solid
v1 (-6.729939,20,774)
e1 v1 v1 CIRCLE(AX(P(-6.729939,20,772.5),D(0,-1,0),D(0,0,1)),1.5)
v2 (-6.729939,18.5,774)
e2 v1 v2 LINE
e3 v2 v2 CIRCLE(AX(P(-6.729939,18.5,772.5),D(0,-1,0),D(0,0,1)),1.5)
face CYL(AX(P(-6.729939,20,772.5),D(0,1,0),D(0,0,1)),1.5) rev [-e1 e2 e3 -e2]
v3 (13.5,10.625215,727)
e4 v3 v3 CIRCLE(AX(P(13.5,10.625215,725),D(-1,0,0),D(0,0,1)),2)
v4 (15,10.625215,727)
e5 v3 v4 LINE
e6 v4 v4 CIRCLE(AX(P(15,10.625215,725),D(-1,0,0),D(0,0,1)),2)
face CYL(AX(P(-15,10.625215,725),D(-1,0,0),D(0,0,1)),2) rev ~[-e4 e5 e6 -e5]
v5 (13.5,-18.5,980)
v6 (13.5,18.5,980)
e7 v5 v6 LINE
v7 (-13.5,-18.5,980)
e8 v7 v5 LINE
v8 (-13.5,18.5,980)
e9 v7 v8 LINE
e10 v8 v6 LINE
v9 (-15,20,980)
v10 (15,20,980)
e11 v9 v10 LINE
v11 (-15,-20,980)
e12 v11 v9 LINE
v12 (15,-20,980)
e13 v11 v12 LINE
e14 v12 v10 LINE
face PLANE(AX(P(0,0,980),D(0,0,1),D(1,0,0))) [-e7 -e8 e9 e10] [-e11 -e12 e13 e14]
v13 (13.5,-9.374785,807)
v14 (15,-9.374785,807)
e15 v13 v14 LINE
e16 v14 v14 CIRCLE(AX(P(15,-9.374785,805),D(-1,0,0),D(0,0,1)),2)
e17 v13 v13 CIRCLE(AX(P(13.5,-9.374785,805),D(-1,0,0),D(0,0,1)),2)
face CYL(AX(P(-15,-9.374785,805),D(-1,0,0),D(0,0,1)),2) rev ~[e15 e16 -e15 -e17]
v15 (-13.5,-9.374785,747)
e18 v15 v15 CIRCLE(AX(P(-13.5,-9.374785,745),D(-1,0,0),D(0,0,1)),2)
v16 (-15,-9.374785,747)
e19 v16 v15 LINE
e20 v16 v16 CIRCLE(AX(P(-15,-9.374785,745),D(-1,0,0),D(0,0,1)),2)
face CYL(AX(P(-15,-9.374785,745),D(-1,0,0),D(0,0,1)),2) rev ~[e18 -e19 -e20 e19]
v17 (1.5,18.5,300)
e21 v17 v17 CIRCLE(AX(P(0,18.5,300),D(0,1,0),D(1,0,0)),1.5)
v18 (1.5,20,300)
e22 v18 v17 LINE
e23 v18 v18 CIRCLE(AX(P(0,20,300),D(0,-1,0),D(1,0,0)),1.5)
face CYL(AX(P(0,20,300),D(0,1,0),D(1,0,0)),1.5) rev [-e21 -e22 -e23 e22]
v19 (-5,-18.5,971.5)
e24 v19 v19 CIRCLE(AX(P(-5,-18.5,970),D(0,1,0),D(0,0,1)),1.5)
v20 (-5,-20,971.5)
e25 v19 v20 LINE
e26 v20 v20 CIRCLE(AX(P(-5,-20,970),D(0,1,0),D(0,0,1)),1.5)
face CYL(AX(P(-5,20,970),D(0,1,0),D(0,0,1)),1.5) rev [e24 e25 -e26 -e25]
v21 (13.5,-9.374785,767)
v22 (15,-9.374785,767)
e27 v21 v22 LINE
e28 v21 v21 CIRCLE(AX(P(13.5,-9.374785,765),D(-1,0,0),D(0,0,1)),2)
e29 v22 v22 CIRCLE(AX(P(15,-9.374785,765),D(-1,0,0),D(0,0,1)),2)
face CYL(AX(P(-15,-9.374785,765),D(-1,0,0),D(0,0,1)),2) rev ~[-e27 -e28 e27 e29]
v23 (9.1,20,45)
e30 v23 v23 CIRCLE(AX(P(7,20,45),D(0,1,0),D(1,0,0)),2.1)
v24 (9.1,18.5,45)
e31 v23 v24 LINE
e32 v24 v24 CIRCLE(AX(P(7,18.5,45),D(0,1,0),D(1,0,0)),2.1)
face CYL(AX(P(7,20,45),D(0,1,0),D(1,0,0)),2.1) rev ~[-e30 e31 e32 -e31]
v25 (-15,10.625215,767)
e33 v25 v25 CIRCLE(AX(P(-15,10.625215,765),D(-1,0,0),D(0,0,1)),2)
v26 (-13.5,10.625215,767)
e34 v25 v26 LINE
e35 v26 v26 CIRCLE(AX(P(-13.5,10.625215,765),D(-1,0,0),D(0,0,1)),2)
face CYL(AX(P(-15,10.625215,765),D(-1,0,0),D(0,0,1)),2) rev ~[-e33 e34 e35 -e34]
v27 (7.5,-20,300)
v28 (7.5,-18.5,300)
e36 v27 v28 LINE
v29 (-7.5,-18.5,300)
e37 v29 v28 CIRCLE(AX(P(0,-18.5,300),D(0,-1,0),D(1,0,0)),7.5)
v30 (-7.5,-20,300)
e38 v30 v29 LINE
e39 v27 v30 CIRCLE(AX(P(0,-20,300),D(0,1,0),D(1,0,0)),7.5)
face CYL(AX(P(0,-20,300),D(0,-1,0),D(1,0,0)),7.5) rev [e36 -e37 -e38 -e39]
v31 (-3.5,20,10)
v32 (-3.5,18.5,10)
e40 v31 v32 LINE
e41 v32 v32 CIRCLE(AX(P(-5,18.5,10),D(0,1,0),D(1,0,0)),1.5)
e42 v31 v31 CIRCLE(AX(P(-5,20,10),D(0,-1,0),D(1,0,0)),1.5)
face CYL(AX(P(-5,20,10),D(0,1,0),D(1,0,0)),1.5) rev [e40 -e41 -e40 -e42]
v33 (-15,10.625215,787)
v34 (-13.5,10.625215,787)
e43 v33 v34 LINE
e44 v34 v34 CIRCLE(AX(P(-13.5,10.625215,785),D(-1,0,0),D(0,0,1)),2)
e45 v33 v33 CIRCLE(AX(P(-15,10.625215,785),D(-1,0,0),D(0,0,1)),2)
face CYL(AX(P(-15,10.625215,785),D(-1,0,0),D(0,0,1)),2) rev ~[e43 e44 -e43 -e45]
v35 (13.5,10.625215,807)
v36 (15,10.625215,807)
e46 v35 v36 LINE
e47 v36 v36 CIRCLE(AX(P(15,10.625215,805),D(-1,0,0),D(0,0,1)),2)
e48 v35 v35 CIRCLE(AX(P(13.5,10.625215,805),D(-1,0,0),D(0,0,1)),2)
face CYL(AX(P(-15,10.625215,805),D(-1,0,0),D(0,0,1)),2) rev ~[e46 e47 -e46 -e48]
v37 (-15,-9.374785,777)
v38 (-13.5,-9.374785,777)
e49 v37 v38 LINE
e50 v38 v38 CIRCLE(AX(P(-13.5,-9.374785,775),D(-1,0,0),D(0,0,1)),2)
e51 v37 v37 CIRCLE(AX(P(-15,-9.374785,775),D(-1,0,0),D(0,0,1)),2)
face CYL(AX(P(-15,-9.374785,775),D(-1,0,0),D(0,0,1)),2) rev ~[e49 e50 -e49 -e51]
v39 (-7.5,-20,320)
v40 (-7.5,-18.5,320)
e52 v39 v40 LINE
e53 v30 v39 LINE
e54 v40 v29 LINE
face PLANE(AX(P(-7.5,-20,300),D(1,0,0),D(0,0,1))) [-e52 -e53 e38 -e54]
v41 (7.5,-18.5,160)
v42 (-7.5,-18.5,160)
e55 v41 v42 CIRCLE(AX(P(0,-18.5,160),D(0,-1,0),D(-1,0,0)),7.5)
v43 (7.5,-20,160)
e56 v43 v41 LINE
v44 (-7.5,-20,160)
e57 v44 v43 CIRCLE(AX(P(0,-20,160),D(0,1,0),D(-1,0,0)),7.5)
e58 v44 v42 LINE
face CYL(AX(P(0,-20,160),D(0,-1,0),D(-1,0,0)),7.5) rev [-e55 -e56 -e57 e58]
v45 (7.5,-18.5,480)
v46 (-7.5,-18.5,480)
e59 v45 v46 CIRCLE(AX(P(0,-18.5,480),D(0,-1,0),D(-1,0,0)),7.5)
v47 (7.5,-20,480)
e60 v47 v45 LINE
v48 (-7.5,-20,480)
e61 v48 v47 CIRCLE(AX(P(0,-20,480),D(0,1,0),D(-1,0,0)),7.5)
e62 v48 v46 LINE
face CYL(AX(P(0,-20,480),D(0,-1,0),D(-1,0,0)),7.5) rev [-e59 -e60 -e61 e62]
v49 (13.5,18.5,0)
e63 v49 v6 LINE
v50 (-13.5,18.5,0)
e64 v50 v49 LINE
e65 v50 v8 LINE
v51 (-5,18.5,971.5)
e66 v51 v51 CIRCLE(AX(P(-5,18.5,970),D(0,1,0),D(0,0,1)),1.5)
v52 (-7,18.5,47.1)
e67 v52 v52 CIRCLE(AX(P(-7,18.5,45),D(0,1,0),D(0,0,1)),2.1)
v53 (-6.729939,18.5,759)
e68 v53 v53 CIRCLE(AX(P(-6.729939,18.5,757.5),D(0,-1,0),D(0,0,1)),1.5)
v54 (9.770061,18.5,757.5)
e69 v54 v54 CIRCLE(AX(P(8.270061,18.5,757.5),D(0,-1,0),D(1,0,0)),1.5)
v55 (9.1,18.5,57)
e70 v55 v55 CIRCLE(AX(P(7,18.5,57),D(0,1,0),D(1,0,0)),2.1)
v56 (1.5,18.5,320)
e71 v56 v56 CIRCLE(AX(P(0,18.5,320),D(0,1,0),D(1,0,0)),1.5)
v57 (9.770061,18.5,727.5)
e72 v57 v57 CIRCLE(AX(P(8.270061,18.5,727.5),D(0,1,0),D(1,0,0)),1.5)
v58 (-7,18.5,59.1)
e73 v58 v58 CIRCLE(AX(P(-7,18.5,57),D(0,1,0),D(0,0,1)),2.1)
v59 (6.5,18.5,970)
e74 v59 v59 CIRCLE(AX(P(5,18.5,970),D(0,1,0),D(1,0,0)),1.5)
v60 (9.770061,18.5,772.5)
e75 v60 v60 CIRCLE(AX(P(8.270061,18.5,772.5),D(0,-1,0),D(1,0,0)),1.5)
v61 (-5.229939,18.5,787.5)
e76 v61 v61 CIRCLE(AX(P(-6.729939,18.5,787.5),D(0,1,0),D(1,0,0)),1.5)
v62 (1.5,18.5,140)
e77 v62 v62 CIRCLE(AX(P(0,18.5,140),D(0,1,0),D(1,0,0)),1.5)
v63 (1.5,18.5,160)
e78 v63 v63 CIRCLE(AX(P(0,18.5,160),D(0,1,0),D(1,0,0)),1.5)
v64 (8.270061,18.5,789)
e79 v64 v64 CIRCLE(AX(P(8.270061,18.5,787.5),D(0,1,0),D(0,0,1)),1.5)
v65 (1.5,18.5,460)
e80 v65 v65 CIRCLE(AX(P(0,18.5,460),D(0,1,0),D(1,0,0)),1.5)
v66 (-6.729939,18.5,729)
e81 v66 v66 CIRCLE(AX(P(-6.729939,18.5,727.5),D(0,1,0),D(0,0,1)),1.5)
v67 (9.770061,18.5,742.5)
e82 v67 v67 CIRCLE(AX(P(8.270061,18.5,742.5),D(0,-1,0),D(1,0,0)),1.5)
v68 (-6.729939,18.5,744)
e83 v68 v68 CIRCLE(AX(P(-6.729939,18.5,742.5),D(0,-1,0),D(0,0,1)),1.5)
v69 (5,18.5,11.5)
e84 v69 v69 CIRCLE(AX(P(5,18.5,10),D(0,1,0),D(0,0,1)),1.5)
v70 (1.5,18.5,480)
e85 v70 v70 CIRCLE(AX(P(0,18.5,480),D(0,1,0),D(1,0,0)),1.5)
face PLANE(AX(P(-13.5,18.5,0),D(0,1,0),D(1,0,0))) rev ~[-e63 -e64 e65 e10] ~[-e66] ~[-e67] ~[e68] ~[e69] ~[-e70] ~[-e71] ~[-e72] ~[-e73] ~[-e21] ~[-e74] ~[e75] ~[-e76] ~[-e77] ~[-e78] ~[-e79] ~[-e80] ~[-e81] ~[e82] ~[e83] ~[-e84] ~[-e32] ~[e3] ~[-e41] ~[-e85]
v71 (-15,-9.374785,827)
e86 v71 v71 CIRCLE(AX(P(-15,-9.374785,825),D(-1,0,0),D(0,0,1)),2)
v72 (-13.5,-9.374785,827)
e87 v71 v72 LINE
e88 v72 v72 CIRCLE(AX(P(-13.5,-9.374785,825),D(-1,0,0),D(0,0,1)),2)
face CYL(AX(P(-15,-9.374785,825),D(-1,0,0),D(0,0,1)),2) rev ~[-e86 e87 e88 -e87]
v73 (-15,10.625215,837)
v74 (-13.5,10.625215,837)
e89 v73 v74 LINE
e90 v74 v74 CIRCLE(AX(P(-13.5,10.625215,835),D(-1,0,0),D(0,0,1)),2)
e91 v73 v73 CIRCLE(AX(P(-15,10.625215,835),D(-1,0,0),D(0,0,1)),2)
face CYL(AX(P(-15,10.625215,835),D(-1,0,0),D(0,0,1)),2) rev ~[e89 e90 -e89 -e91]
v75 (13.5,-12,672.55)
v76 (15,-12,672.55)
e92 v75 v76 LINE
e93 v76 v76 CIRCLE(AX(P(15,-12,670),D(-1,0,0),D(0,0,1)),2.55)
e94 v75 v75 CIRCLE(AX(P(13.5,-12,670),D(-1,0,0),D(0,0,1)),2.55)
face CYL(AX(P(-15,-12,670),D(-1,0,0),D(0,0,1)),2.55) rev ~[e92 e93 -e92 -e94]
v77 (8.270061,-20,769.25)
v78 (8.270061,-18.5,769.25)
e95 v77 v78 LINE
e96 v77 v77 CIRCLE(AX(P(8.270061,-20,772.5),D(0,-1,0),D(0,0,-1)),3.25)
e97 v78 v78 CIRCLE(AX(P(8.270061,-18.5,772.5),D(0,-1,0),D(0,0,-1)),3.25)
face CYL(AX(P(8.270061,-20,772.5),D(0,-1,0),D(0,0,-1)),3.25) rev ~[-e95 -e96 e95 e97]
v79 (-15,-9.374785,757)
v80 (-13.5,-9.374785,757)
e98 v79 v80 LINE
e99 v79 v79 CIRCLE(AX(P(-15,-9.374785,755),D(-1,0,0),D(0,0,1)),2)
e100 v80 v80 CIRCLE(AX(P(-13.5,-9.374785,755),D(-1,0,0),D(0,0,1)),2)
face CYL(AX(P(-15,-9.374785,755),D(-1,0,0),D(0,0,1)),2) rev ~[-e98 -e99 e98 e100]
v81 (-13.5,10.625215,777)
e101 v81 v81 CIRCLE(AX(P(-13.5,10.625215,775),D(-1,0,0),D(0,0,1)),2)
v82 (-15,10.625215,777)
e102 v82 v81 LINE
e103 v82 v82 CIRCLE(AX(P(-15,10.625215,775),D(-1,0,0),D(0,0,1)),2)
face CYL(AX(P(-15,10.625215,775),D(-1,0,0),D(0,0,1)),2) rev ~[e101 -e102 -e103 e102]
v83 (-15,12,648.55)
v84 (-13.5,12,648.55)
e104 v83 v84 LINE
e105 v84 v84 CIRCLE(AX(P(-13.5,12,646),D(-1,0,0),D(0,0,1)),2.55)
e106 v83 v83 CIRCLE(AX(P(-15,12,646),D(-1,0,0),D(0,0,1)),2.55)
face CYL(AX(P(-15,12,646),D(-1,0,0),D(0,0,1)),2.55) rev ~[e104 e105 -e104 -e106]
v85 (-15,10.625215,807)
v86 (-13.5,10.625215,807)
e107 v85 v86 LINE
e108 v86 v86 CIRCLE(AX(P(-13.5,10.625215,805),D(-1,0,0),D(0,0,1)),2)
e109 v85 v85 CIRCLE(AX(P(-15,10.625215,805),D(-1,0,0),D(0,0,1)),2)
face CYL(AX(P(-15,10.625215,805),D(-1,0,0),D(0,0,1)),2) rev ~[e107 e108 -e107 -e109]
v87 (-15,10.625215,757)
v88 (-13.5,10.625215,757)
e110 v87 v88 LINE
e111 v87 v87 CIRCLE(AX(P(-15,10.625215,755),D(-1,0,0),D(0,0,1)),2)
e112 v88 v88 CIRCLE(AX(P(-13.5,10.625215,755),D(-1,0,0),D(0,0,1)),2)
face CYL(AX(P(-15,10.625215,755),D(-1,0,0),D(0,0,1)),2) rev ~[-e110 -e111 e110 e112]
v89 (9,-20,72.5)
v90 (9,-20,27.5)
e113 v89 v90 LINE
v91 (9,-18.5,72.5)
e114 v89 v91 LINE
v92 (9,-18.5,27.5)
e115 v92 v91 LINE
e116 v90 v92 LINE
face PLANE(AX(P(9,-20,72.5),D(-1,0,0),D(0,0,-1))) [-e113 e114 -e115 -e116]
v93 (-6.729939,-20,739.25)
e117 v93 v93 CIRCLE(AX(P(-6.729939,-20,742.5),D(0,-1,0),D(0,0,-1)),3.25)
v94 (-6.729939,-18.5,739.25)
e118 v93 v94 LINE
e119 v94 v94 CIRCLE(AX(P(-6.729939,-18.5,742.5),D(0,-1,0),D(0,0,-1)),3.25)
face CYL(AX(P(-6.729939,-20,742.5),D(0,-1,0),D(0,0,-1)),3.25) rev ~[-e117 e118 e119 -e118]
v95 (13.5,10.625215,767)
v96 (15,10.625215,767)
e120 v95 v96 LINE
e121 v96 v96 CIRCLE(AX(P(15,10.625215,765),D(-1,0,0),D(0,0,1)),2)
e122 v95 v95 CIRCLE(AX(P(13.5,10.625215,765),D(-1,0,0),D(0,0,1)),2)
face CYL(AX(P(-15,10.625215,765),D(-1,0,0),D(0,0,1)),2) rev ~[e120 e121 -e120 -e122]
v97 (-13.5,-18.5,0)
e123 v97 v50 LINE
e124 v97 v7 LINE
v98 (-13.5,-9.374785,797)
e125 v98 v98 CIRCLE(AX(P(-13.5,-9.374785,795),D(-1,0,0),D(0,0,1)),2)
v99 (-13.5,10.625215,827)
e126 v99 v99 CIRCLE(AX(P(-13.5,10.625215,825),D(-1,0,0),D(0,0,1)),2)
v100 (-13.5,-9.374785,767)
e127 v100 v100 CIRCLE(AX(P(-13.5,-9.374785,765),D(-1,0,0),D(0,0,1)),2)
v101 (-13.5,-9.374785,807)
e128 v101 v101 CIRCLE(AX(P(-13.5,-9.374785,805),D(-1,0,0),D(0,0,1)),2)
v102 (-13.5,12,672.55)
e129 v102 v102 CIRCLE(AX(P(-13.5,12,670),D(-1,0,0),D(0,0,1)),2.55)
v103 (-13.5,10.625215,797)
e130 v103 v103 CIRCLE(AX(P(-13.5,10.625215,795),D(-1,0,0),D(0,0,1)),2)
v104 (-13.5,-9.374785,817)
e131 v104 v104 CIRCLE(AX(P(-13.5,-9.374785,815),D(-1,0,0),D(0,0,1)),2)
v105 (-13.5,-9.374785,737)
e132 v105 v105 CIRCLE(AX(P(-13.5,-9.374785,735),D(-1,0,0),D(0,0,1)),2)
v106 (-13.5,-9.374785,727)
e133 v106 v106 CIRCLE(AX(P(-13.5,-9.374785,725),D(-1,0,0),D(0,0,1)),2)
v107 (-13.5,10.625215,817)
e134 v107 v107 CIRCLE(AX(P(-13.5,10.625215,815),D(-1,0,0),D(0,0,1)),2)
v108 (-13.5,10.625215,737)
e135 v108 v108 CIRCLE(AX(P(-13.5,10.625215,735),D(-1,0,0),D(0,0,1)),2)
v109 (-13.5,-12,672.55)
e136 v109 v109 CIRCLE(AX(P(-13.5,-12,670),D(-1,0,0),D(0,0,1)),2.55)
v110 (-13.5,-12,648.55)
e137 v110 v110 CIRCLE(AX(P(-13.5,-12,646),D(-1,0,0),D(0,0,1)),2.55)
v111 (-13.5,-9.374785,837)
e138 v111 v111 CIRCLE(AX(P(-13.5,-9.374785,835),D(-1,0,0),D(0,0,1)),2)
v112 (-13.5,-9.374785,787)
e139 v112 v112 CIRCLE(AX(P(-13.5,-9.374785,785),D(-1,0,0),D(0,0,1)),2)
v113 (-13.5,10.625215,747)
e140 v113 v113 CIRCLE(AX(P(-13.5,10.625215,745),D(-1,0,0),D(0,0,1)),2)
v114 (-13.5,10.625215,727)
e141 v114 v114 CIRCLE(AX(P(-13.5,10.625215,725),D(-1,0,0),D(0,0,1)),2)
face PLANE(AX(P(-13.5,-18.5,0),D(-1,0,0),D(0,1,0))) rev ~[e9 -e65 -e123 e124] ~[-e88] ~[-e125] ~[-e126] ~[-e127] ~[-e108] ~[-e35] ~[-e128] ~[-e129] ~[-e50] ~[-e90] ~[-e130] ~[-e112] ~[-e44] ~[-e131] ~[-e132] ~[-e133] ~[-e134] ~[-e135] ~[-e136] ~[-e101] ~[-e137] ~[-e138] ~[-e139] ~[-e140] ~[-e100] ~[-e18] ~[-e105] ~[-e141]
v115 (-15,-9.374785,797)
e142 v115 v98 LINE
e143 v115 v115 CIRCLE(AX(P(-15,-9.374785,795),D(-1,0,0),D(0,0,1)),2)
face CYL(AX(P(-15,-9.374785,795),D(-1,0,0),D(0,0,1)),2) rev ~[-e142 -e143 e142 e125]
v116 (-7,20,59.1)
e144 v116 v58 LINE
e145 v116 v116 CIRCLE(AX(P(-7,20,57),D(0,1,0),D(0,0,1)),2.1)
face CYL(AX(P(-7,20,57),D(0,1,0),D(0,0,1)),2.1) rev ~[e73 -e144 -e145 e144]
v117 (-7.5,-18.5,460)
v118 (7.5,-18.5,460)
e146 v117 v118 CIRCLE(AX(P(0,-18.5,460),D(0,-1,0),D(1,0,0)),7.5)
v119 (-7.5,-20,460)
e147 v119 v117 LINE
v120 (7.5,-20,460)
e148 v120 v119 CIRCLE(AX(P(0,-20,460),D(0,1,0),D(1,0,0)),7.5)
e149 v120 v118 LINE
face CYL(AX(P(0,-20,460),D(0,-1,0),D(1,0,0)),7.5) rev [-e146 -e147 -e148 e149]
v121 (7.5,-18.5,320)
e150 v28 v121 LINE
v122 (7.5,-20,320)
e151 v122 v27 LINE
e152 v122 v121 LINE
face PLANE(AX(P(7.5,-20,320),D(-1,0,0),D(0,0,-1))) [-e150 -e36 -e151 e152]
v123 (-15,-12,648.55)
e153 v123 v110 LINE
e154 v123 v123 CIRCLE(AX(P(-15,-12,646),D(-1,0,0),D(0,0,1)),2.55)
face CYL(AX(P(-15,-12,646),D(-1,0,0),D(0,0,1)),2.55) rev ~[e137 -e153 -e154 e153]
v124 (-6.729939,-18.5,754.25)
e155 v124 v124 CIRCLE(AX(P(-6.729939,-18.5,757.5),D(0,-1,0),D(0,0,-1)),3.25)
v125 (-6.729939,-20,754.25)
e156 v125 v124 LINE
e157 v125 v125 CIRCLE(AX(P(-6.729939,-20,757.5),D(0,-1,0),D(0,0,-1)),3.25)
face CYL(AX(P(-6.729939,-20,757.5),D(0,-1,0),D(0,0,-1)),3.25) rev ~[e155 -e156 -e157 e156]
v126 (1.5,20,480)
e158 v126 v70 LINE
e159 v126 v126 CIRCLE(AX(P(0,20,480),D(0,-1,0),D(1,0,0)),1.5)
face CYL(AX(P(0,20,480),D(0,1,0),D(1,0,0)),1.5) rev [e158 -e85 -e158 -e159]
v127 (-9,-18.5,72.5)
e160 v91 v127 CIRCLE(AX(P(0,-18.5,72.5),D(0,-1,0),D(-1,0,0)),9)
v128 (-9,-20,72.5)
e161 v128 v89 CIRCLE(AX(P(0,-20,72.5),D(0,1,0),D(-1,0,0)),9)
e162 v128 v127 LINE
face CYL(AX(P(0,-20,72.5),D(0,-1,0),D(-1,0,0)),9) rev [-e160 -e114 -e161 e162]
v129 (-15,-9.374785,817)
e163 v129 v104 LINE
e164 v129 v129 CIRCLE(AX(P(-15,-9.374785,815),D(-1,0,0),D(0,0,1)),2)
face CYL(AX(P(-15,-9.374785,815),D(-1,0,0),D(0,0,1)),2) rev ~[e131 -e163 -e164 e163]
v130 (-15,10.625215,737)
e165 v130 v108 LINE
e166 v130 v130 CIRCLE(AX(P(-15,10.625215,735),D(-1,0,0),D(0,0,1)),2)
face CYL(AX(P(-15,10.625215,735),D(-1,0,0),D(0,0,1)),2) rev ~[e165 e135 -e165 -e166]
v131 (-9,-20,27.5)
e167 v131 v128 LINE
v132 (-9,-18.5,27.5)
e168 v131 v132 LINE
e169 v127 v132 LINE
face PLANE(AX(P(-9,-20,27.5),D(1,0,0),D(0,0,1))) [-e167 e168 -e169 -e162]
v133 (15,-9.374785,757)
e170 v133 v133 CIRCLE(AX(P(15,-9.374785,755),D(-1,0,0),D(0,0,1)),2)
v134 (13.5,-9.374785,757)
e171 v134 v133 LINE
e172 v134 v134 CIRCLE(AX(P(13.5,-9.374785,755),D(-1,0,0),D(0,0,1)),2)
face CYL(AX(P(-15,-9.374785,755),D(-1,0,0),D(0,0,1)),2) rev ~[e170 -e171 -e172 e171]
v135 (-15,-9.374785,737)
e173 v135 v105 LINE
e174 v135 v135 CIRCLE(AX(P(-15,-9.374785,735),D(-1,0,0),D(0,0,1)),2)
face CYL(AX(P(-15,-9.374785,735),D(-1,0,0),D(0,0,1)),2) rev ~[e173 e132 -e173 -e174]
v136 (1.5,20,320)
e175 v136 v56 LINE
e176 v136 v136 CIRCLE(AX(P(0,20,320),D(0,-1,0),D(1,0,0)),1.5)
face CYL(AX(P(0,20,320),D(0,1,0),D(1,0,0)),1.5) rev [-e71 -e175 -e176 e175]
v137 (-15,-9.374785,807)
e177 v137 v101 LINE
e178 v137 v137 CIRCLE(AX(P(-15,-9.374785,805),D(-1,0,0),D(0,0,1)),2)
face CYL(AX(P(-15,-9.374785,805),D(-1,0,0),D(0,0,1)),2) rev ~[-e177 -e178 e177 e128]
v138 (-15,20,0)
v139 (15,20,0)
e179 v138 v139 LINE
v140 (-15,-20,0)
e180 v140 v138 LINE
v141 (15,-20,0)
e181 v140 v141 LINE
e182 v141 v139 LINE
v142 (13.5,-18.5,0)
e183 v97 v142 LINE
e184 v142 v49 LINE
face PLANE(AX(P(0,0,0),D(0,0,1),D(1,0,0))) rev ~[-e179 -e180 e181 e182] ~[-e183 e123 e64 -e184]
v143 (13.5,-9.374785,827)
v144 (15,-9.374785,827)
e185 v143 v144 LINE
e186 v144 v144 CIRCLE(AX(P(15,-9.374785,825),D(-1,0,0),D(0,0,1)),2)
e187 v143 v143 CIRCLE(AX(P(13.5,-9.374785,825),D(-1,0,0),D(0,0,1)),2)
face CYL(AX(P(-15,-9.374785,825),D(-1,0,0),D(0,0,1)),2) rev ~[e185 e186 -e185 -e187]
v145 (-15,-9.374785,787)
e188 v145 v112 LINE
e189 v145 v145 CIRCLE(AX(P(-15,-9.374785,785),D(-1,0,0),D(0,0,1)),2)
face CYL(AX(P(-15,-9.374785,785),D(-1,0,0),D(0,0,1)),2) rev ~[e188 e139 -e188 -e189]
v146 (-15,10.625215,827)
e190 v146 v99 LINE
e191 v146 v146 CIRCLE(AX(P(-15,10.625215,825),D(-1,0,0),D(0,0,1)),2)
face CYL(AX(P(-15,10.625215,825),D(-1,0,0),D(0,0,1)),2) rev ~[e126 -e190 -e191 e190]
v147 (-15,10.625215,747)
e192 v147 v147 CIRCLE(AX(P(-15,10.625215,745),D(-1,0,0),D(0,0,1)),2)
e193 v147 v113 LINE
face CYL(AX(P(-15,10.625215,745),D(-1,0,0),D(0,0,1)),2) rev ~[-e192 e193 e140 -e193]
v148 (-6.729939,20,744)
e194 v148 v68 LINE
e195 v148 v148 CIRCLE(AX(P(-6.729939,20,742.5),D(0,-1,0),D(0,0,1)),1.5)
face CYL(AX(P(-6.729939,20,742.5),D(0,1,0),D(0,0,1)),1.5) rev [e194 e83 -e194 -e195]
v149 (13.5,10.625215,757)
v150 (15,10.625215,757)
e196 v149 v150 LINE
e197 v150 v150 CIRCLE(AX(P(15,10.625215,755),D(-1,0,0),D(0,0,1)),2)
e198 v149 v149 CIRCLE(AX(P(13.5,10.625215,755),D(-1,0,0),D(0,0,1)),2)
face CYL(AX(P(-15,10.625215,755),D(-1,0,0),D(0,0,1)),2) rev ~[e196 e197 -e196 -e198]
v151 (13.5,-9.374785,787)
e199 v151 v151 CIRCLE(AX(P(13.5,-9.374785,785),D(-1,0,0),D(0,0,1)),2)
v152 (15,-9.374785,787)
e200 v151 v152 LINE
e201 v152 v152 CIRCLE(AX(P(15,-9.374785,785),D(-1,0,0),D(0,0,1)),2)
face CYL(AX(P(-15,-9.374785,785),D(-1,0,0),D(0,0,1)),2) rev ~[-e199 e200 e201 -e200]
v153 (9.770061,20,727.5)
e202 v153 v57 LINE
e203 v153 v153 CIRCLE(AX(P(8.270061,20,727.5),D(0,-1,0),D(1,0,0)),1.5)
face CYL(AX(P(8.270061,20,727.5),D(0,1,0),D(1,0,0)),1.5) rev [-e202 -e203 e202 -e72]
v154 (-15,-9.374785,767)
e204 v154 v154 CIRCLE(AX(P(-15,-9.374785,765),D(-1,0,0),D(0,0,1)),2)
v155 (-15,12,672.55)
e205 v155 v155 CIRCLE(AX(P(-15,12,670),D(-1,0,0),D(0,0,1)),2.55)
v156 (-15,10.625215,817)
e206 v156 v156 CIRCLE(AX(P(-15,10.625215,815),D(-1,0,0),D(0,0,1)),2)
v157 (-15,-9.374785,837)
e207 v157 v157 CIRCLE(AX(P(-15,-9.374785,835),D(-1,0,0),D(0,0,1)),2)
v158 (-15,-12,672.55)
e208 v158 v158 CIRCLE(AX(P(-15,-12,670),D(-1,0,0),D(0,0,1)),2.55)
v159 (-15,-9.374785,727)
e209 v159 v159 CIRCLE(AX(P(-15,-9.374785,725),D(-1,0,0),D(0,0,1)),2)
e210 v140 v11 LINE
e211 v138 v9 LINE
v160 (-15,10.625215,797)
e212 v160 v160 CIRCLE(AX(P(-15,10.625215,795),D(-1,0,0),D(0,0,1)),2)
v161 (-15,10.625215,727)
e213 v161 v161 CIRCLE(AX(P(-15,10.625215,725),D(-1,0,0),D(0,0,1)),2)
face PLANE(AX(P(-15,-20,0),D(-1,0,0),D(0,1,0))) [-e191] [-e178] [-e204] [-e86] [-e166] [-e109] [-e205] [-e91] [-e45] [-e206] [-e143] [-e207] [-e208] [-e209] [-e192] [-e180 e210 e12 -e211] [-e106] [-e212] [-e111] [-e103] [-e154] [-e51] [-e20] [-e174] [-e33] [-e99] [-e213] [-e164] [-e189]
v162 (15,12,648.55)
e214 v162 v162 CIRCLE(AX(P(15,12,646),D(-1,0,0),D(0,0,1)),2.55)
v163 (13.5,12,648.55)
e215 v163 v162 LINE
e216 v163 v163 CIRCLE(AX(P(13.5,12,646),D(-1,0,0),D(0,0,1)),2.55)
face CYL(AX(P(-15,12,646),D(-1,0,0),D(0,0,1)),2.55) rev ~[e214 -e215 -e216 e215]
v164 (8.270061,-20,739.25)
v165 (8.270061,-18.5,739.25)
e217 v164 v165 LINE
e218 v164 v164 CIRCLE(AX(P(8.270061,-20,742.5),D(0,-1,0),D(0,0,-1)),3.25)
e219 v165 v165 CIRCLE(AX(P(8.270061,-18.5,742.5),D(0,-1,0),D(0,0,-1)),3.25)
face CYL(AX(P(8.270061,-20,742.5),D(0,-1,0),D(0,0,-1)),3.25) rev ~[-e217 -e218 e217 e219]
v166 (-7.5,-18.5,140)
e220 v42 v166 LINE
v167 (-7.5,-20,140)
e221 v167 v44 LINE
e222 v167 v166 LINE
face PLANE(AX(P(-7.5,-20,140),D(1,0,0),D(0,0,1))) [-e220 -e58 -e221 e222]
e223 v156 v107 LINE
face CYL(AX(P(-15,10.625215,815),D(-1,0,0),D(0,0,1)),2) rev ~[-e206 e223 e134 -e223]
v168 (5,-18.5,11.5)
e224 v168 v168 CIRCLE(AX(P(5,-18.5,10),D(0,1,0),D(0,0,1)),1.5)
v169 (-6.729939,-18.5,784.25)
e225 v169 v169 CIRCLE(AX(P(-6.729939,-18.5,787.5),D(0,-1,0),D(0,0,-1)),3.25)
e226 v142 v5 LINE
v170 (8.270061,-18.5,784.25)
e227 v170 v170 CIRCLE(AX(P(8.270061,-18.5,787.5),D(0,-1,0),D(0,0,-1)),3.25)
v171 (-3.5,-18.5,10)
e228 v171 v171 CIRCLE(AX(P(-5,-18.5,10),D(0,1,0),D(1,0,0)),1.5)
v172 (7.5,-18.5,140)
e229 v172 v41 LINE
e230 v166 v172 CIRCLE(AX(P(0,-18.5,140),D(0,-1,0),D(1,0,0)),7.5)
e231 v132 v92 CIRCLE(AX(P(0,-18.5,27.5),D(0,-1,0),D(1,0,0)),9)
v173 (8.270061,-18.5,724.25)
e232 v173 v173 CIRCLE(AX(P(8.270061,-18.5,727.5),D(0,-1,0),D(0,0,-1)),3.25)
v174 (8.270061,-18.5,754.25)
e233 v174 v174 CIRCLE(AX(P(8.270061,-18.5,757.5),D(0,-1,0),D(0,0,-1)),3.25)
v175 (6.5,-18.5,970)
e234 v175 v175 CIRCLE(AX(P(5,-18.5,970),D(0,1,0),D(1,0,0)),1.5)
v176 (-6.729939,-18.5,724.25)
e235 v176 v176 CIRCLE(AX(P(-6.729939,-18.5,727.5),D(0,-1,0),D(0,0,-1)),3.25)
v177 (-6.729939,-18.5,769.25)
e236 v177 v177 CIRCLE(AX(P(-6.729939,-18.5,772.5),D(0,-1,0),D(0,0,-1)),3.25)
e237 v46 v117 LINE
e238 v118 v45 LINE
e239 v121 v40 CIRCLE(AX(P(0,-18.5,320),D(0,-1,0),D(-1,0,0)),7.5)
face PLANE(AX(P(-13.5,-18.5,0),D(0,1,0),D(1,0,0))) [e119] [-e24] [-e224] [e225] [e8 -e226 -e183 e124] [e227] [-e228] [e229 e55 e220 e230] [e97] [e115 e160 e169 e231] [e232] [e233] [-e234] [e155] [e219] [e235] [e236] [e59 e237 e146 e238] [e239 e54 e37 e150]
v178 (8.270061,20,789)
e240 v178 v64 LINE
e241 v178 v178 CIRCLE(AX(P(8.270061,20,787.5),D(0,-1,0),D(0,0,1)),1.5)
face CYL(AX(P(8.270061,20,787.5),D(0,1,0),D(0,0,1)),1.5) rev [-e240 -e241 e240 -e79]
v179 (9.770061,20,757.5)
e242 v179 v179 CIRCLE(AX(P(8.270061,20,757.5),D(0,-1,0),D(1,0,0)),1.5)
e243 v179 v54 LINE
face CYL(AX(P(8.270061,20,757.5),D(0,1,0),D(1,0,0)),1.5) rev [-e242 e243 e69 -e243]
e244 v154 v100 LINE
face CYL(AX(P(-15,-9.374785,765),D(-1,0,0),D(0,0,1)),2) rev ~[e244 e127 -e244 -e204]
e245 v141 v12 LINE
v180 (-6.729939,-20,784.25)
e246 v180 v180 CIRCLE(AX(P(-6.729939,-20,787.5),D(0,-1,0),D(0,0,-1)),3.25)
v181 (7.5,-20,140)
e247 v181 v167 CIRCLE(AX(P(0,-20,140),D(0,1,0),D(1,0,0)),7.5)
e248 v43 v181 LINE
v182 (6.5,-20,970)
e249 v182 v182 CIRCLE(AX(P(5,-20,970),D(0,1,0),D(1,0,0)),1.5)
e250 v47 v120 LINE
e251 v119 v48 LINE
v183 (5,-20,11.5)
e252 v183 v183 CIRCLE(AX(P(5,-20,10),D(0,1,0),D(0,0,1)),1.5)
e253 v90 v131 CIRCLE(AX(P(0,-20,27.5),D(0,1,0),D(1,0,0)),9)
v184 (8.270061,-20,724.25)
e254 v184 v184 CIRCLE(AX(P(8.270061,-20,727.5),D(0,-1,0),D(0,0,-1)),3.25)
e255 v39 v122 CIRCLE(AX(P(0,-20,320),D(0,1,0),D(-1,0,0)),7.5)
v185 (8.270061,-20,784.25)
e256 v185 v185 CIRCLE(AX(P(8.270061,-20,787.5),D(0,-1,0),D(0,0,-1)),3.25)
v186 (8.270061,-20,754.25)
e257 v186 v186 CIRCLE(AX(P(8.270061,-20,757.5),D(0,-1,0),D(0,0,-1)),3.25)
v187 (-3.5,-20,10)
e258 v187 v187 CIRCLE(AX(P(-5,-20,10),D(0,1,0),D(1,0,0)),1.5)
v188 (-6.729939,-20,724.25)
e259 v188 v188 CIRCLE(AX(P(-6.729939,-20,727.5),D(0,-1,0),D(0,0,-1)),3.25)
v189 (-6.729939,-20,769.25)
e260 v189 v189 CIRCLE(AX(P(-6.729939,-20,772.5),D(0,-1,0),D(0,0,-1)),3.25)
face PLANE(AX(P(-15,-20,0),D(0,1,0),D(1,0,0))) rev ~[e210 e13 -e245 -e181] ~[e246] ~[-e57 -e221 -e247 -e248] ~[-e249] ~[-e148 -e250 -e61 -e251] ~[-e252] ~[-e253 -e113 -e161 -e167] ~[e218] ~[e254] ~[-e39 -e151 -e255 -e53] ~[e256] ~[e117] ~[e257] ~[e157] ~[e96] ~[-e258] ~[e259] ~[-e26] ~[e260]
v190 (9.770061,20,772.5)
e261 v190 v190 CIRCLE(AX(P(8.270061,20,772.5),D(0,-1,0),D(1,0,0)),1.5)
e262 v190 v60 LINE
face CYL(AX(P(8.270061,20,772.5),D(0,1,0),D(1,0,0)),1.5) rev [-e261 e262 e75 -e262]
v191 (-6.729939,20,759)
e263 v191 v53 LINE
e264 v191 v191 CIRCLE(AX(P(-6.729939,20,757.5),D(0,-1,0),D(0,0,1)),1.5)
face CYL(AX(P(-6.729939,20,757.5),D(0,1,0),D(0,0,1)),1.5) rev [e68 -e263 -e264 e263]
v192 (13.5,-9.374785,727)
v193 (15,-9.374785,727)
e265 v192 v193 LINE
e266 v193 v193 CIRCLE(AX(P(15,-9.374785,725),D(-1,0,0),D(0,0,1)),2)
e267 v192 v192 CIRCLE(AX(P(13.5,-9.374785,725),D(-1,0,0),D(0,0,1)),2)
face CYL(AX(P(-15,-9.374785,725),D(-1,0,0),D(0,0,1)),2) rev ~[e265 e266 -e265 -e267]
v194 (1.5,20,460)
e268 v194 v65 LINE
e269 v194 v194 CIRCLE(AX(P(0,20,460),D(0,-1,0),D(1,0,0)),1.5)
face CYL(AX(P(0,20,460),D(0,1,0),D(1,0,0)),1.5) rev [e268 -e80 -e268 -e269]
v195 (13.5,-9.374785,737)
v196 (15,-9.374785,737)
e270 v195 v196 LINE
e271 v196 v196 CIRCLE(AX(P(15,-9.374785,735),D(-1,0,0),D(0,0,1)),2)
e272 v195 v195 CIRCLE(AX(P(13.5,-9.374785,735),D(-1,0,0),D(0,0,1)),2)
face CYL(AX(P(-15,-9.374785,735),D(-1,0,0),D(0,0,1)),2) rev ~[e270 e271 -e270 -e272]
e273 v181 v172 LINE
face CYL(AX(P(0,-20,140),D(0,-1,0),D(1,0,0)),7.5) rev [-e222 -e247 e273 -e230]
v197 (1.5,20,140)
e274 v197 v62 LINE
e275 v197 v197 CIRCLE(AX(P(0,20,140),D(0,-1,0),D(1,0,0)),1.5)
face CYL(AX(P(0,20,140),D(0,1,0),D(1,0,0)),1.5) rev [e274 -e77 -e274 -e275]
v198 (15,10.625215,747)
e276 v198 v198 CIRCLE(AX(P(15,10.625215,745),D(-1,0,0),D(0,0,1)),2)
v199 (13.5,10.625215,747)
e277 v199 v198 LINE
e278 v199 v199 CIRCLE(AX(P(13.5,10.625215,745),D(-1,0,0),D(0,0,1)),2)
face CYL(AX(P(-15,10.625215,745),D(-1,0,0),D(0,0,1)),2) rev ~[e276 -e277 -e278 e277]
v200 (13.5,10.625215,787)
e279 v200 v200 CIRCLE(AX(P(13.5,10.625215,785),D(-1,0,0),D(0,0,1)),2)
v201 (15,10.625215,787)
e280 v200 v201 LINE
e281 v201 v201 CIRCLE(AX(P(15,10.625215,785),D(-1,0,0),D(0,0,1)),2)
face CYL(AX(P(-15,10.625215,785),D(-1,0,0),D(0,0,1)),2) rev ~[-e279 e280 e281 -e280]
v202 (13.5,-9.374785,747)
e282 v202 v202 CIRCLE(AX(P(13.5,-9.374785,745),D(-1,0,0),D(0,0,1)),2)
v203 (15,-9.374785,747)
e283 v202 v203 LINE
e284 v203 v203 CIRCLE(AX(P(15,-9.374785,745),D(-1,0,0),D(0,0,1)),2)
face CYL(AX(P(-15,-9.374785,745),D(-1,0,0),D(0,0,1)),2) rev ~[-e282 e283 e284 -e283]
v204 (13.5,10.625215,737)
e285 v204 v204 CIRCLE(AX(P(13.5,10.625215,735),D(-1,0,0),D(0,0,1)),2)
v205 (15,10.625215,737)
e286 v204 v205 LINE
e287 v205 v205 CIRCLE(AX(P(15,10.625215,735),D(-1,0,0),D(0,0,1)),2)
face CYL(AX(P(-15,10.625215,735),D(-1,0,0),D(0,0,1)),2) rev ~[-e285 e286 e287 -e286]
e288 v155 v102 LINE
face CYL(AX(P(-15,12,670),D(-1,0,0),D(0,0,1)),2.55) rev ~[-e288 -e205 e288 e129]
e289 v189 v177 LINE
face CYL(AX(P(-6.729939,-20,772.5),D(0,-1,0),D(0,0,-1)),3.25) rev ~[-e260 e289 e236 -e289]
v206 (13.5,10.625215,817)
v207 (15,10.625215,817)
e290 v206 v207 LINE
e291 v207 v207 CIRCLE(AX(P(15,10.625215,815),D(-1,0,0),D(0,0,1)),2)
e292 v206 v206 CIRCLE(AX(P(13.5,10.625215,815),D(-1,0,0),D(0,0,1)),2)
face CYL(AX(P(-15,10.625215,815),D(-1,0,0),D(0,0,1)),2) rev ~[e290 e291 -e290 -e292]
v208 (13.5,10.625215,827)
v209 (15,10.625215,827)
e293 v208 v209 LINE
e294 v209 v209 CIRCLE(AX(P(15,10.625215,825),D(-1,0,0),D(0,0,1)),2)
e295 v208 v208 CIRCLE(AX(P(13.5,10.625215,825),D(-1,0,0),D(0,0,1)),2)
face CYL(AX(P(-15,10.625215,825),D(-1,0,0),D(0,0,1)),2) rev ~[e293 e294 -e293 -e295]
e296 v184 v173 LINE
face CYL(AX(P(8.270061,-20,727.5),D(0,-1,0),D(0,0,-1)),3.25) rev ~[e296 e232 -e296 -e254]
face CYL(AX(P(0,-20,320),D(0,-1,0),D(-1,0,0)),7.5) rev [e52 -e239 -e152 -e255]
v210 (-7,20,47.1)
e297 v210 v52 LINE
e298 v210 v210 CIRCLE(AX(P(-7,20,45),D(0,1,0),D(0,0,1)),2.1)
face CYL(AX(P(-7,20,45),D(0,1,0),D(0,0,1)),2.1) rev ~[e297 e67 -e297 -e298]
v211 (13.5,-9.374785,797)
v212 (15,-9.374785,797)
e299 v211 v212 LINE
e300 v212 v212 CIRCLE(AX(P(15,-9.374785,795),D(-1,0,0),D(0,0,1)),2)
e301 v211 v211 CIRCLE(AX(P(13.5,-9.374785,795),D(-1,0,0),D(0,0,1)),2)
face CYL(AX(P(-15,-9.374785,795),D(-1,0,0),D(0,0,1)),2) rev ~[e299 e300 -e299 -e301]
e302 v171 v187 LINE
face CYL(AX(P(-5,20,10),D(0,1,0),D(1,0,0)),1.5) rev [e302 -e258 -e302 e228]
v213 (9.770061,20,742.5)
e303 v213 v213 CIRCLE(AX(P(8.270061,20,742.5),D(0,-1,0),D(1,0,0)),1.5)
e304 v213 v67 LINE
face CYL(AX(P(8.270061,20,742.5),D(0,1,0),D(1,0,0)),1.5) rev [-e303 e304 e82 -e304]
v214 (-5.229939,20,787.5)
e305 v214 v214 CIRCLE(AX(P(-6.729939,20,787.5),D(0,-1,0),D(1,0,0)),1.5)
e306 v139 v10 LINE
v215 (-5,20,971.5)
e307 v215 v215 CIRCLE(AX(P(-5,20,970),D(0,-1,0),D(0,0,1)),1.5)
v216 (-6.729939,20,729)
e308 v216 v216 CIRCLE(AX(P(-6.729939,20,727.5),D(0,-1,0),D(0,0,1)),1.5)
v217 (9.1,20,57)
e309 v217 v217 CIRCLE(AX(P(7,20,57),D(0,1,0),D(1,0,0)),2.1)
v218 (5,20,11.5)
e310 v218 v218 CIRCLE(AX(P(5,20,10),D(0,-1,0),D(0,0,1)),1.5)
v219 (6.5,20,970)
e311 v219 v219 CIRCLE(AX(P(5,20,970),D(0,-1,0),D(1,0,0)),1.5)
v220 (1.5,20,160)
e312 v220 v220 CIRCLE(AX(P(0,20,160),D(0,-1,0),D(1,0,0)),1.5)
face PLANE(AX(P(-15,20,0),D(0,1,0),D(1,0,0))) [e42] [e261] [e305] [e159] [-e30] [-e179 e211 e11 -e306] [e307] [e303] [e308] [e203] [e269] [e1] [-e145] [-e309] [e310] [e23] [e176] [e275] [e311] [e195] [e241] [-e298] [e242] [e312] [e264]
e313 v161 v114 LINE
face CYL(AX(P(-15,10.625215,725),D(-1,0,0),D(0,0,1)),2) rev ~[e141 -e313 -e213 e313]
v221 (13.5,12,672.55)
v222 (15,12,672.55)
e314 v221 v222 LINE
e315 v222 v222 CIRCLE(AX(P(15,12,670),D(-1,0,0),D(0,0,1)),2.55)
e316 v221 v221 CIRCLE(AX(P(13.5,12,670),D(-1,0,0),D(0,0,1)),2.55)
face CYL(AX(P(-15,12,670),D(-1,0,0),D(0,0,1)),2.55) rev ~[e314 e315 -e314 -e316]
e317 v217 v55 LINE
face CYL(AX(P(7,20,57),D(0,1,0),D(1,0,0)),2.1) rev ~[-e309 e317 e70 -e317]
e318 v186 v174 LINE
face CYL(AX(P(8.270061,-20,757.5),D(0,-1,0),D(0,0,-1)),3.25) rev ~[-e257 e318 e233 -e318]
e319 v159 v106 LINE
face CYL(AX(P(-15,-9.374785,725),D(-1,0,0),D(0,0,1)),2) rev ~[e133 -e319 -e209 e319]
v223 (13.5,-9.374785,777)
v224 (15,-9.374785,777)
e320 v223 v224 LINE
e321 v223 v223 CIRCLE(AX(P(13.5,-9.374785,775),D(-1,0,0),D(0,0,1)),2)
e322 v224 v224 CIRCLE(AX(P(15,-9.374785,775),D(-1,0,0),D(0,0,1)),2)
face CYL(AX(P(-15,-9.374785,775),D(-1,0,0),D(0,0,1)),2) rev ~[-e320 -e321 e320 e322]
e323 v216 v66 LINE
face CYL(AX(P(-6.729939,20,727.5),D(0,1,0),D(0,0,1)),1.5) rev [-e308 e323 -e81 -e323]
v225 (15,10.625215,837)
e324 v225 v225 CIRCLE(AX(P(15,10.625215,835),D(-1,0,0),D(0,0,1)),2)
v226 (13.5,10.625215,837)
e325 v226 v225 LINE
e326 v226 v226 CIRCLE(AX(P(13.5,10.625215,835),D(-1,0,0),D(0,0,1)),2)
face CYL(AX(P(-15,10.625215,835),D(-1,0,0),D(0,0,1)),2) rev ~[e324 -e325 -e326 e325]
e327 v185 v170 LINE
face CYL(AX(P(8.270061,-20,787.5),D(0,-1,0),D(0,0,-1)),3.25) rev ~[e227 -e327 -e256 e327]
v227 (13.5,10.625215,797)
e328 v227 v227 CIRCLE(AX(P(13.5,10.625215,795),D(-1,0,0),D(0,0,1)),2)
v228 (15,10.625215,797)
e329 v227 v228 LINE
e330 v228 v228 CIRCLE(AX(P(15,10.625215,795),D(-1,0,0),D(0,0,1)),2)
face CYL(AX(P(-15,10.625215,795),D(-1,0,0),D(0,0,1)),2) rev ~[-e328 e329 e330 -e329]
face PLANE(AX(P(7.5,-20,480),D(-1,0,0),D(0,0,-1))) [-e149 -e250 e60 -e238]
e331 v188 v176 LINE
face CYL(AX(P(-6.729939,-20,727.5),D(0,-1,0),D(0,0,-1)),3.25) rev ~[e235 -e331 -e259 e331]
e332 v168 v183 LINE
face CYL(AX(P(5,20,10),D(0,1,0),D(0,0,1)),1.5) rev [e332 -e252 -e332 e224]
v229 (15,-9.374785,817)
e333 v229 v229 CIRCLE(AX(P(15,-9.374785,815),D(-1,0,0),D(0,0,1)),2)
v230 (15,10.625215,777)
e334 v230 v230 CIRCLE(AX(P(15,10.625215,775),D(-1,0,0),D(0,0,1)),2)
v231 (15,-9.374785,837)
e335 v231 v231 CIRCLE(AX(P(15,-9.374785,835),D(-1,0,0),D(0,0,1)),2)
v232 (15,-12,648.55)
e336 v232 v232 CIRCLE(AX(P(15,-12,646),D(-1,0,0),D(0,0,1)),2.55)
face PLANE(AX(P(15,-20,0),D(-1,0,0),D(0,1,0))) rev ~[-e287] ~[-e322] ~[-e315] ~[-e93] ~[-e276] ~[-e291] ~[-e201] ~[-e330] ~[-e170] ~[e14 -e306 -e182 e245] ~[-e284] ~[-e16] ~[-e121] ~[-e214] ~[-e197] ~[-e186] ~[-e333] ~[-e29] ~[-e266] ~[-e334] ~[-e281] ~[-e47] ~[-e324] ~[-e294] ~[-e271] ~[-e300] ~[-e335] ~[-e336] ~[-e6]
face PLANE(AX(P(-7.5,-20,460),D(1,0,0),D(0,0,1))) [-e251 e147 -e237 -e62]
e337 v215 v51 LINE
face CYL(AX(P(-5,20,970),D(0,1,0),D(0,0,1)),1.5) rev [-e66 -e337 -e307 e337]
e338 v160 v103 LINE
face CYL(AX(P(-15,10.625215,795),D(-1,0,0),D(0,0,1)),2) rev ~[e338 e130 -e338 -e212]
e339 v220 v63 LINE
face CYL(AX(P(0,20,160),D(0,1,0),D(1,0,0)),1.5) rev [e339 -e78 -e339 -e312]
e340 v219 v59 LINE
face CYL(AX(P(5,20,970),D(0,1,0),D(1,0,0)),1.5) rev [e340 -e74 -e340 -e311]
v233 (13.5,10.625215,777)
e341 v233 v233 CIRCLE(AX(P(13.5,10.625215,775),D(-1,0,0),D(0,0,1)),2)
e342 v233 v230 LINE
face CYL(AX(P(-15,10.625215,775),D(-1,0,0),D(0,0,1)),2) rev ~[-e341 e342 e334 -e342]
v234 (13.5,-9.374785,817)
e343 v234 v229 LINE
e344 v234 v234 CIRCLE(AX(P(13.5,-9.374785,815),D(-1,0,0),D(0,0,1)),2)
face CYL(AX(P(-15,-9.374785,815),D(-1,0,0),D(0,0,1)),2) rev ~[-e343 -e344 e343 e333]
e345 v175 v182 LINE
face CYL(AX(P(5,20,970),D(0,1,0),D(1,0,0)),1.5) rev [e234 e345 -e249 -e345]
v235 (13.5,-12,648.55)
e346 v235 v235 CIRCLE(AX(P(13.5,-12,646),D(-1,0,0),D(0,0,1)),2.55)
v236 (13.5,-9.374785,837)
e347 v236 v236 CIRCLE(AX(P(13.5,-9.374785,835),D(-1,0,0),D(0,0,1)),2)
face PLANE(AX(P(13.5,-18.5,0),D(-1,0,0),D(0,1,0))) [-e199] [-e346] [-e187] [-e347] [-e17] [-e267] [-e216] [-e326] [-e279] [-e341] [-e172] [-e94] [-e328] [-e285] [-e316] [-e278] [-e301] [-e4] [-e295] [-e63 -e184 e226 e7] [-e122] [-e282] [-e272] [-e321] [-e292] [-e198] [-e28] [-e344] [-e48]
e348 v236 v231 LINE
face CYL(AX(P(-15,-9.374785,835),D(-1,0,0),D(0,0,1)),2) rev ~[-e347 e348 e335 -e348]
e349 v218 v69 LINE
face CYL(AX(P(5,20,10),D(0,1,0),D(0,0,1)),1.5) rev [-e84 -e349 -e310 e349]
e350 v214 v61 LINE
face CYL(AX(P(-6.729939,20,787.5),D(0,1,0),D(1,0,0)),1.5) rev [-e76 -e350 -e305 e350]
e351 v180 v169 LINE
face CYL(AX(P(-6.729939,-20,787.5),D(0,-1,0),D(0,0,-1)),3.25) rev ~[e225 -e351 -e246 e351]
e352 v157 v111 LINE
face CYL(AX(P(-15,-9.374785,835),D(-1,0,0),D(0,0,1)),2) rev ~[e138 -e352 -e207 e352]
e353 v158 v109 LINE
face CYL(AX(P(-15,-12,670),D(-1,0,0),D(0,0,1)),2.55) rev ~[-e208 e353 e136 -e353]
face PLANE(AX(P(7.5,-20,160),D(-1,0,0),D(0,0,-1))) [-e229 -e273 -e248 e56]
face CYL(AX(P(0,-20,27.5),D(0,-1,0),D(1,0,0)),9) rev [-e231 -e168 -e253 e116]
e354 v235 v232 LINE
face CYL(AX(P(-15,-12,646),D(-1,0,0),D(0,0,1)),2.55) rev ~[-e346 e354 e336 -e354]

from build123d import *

# Parameters (mm, degrees)
SKETCH_1_W             = 30
SKETCH_1_H             = 40
SKETCH_1_W_2           = 27
SKETCH_1_H_2           = 37
EXTRUDE_1_DEPTH        = 980
SKETCH_3_R             = 1.5
CUT_EXTRUDE_2_DEPTH    = 981.930680527
SKETCH_4_R             = 1.5
CUT_EXTRUDE_3_DEPTH    = 981.930680527
SKETCH_5_R             = 1.5
CUT_EXTRUDE_4_DEPTH    = 981.930680527
CUT_EXTRUDE_6_DEPTH    = 10
SKETCH_9_R             = 3.25
CUT_EXTRUDE_7_DEPTH    = 10
PATTERN_LINEAR_1_COUNT = 4
PATTERN_LINEAR_1_PITCH = 15
SKETCH_10_R            = 2.55
CUT_EXTRUDE_8_DEPTH    = 51
SKETCH_11_R            = 2
CUT_EXTRUDE_9_DEPTH    = 51
SKETCH_12_R            = 2.1
CUT_EXTRUDE_10_DEPTH   = 10
CUT_EXTRUDE_11_DEPTH   = 10


with BuildPart() as part:
    # 草图1 → 凸台-拉伸1 (new body)
    with BuildSketch(Plane.XY):
        Rectangle(SKETCH_1_W, SKETCH_1_H)
        Rectangle(SKETCH_1_W_2, SKETCH_1_H_2, mode=Mode.SUBTRACT)
    extrude(amount=EXTRUDE_1_DEPTH)

    # 草图3 → 切除-拉伸2 (cut, through all)
    with BuildSketch(Plane(origin=(0, 20, 0), x_dir=(-1, 0, 0), z_dir=(0, -1, 0))):
        with Locations(Location((5, -10, 0), (0, 0, 180))):
            Circle(SKETCH_3_R)
        with Locations(Location((-5, -10, 0), (0, 0, 270))):
            Circle(SKETCH_3_R)
        with Locations(Location((-5, -970, 0), (0, 0, 180))):
            Circle(SKETCH_3_R)
        with Locations(Location((5, -970, 0), (0, 0, 270))):
            Circle(SKETCH_3_R)
    extrude(amount=CUT_EXTRUDE_2_DEPTH, mode=Mode.SUBTRACT)

    # 草图4 → 切除-拉伸3 (cut, through all)
    with BuildSketch(Plane(origin=(0, 20, 0), x_dir=(-1, 0, 0), z_dir=(0, -1, 0))):
        with Locations(Location((-8.27006126, -772.5, 0), (0, 0, 180))):
            Circle(SKETCH_4_R)
        with Locations(Location((6.72993874, -772.5, 0), (0, 0, 270))):
            Circle(SKETCH_4_R)
        with Locations(Location((6.72993874, -787.5, 0), (0, 0, 180))):
            Circle(SKETCH_4_R)
        with Locations(Location((-8.27006126, -787.5, 0), (0, 0, 270))):
            Circle(SKETCH_4_R)
    cut_extrude_3 = extrude(amount=CUT_EXTRUDE_3_DEPTH, mode=Mode.SUBTRACT)

    # 草图5 → 切除-拉伸4 (cut, through all)
    with BuildSketch(Plane(origin=(0, 20, 0), x_dir=(-1, 0, 0), z_dir=(0, -1, 0))):
        with Locations(Location((0, -140, 0), (0, 0, 180))):
            Circle(SKETCH_5_R)
        with Locations(Location((0, -160, 0), (0, 0, 180))):
            Circle(SKETCH_5_R)
        with Locations(Location((0, -300, 0), (0, 0, 180))):
            Circle(SKETCH_5_R)
        with Locations(Location((0, -320, 0), (0, 0, 180))):
            Circle(SKETCH_5_R)
        with Locations(Location((0, -480, 0), (0, 0, 180))):
            Circle(SKETCH_5_R)
        with Locations(Location((0, -460, 0), (0, 0, 180))):
            Circle(SKETCH_5_R)
    extrude(amount=CUT_EXTRUDE_4_DEPTH, mode=Mode.SUBTRACT)

    # 草图8 → 切除-拉伸6 (cut)
    with BuildSketch(Plane.XZ.offset(20)):
        with BuildLine():
            Line((7.5, 160), (7.5, 140))
            ThreePointArc((7.5, 140), (0, 132.5), (-7.5, 140))
            Line((-7.5, 140), (-7.5, 160))
            ThreePointArc((-7.5, 160), (0, 167.5), (7.5, 160))
        make_face()
        with BuildLine():
            Line((7.5, 480), (7.5, 460))
            ThreePointArc((7.5, 460), (0, 452.5), (-7.5, 460))
            Line((-7.5, 460), (-7.5, 480))
            ThreePointArc((-7.5, 480), (0, 487.5), (7.5, 480))
        make_face()
        with BuildLine():
            Line((7.5, 320), (7.5, 300))
            ThreePointArc((7.5, 300), (0, 292.5), (-7.5, 300))
            Line((-7.5, 300), (-7.5, 320))
            ThreePointArc((-7.5, 320), (0, 327.5), (7.5, 320))
        make_face()
    extrude(amount=-CUT_EXTRUDE_6_DEPTH, mode=Mode.SUBTRACT)

    # 草图9 → 切除-拉伸7 (cut)
    with BuildSketch(Plane.XZ.offset(20)):
        with Locations(Location((-6.72993874, 787.5, 0), (0, 0, 270))):
            Circle(SKETCH_9_R)
        with Locations(Location((-6.72993874, 772.5, 0), (0, 0, 270))):
            Circle(SKETCH_9_R)
        with Locations(Location((8.27006126, 772.5, 0), (0, 0, 270))):
            Circle(SKETCH_9_R)
        with Locations(Location((8.27006126, 787.5, 0), (0, 0, 270))):
            Circle(SKETCH_9_R)
    cut_extrude_7 = extrude(amount=-CUT_EXTRUDE_7_DEPTH, mode=Mode.SUBTRACT)

    # 阵列(线性)1: 切除-拉伸3, 切除-拉伸7 ×4
    with Locations(*[(0, 0, -i * PATTERN_LINEAR_1_PITCH) for i in range(1, PATTERN_LINEAR_1_COUNT)]):
        add(cut_extrude_3, mode=Mode.SUBTRACT)
        add(cut_extrude_7, mode=Mode.SUBTRACT)

    # 草图10 → 切除-拉伸8 (cut)
    with BuildSketch(Plane.ZY.offset(15)):
        with Locations((646, 12)):
            Circle(SKETCH_10_R)
        with Locations((670, 12)):
            Circle(SKETCH_10_R)
        with Locations((646, -12)):
            Circle(SKETCH_10_R)
        with Locations((670, -12)):
            Circle(SKETCH_10_R)
    extrude(amount=-CUT_EXTRUDE_8_DEPTH, mode=Mode.SUBTRACT)

    # 草图11 → 切除-拉伸9 (cut)
    with BuildSketch(Plane.ZY.offset(15)):
        with Locations((725, 10.625214933)):
            Circle(SKETCH_11_R)
        with Locations((725, -9.374785067)):
            Circle(SKETCH_11_R)
        with Locations((735, 10.625214933)):
            Circle(SKETCH_11_R)
        with Locations((735, -9.374785067)):
            Circle(SKETCH_11_R)
        with Locations((745, 10.625214933)):
            Circle(SKETCH_11_R)
        with Locations((745, -9.374785067)):
            Circle(SKETCH_11_R)
        with Locations((755, 10.625214933)):
            Circle(SKETCH_11_R)
        with Locations((755, -9.374785067)):
            Circle(SKETCH_11_R)
        with Locations((765, 10.625214933)):
            Circle(SKETCH_11_R)
        with Locations((765, -9.374785067)):
            Circle(SKETCH_11_R)
        with Locations((775, 10.625214933)):
            Circle(SKETCH_11_R)
        with Locations((775, -9.374785067)):
            Circle(SKETCH_11_R)
        with Locations((785, 10.625214933)):
            Circle(SKETCH_11_R)
        with Locations((785, -9.374785067)):
            Circle(SKETCH_11_R)
        with Locations((795, 10.625214933)):
            Circle(SKETCH_11_R)
        with Locations((795, -9.374785067)):
            Circle(SKETCH_11_R)
        with Locations((805, 10.625214933)):
            Circle(SKETCH_11_R)
        with Locations((805, -9.374785067)):
            Circle(SKETCH_11_R)
        with Locations((815, 10.625214933)):
            Circle(SKETCH_11_R)
        with Locations((815, -9.374785067)):
            Circle(SKETCH_11_R)
        with Locations((825, 10.625214933)):
            Circle(SKETCH_11_R)
        with Locations((825, -9.374785067)):
            Circle(SKETCH_11_R)
        with Locations((835, 10.625214933)):
            Circle(SKETCH_11_R)
        with Locations((835, -9.374785067)):
            Circle(SKETCH_11_R)
    extrude(amount=-CUT_EXTRUDE_9_DEPTH, mode=Mode.SUBTRACT)

    # 草图12 → 切除-拉伸10 (cut)
    with BuildSketch(Plane(origin=(0, 20, 0), x_dir=(1, 0, 0), z_dir=(0, 1, 0))):
        with Locations(Location((-7, -45, 0), (0, 0, 270))):
            Circle(SKETCH_12_R)
        with Locations(Location((-7, -57, 0), (0, 0, 270))):
            Circle(SKETCH_12_R)
        with Locations((7, -57)):
            Circle(SKETCH_12_R)
        with Locations((7, -45)):
            Circle(SKETCH_12_R)
    extrude(amount=-CUT_EXTRUDE_10_DEPTH, mode=Mode.SUBTRACT)

    # 草图13 → 切除-拉伸11 (cut)
    with BuildSketch(Plane.XZ.offset(20)):
        with BuildLine():
            Line((-9, 27.5), (-9, 72.5))
            ThreePointArc((-9, 72.5), (0, 81.5), (9, 72.5))
            Line((9, 72.5), (9, 27.5))
            ThreePointArc((9, 27.5), (0, 18.5), (-9, 27.5))
        make_face()
    extrude(amount=-CUT_EXTRUDE_11_DEPTH, mode=Mode.SUBTRACT)


solid = part.part
